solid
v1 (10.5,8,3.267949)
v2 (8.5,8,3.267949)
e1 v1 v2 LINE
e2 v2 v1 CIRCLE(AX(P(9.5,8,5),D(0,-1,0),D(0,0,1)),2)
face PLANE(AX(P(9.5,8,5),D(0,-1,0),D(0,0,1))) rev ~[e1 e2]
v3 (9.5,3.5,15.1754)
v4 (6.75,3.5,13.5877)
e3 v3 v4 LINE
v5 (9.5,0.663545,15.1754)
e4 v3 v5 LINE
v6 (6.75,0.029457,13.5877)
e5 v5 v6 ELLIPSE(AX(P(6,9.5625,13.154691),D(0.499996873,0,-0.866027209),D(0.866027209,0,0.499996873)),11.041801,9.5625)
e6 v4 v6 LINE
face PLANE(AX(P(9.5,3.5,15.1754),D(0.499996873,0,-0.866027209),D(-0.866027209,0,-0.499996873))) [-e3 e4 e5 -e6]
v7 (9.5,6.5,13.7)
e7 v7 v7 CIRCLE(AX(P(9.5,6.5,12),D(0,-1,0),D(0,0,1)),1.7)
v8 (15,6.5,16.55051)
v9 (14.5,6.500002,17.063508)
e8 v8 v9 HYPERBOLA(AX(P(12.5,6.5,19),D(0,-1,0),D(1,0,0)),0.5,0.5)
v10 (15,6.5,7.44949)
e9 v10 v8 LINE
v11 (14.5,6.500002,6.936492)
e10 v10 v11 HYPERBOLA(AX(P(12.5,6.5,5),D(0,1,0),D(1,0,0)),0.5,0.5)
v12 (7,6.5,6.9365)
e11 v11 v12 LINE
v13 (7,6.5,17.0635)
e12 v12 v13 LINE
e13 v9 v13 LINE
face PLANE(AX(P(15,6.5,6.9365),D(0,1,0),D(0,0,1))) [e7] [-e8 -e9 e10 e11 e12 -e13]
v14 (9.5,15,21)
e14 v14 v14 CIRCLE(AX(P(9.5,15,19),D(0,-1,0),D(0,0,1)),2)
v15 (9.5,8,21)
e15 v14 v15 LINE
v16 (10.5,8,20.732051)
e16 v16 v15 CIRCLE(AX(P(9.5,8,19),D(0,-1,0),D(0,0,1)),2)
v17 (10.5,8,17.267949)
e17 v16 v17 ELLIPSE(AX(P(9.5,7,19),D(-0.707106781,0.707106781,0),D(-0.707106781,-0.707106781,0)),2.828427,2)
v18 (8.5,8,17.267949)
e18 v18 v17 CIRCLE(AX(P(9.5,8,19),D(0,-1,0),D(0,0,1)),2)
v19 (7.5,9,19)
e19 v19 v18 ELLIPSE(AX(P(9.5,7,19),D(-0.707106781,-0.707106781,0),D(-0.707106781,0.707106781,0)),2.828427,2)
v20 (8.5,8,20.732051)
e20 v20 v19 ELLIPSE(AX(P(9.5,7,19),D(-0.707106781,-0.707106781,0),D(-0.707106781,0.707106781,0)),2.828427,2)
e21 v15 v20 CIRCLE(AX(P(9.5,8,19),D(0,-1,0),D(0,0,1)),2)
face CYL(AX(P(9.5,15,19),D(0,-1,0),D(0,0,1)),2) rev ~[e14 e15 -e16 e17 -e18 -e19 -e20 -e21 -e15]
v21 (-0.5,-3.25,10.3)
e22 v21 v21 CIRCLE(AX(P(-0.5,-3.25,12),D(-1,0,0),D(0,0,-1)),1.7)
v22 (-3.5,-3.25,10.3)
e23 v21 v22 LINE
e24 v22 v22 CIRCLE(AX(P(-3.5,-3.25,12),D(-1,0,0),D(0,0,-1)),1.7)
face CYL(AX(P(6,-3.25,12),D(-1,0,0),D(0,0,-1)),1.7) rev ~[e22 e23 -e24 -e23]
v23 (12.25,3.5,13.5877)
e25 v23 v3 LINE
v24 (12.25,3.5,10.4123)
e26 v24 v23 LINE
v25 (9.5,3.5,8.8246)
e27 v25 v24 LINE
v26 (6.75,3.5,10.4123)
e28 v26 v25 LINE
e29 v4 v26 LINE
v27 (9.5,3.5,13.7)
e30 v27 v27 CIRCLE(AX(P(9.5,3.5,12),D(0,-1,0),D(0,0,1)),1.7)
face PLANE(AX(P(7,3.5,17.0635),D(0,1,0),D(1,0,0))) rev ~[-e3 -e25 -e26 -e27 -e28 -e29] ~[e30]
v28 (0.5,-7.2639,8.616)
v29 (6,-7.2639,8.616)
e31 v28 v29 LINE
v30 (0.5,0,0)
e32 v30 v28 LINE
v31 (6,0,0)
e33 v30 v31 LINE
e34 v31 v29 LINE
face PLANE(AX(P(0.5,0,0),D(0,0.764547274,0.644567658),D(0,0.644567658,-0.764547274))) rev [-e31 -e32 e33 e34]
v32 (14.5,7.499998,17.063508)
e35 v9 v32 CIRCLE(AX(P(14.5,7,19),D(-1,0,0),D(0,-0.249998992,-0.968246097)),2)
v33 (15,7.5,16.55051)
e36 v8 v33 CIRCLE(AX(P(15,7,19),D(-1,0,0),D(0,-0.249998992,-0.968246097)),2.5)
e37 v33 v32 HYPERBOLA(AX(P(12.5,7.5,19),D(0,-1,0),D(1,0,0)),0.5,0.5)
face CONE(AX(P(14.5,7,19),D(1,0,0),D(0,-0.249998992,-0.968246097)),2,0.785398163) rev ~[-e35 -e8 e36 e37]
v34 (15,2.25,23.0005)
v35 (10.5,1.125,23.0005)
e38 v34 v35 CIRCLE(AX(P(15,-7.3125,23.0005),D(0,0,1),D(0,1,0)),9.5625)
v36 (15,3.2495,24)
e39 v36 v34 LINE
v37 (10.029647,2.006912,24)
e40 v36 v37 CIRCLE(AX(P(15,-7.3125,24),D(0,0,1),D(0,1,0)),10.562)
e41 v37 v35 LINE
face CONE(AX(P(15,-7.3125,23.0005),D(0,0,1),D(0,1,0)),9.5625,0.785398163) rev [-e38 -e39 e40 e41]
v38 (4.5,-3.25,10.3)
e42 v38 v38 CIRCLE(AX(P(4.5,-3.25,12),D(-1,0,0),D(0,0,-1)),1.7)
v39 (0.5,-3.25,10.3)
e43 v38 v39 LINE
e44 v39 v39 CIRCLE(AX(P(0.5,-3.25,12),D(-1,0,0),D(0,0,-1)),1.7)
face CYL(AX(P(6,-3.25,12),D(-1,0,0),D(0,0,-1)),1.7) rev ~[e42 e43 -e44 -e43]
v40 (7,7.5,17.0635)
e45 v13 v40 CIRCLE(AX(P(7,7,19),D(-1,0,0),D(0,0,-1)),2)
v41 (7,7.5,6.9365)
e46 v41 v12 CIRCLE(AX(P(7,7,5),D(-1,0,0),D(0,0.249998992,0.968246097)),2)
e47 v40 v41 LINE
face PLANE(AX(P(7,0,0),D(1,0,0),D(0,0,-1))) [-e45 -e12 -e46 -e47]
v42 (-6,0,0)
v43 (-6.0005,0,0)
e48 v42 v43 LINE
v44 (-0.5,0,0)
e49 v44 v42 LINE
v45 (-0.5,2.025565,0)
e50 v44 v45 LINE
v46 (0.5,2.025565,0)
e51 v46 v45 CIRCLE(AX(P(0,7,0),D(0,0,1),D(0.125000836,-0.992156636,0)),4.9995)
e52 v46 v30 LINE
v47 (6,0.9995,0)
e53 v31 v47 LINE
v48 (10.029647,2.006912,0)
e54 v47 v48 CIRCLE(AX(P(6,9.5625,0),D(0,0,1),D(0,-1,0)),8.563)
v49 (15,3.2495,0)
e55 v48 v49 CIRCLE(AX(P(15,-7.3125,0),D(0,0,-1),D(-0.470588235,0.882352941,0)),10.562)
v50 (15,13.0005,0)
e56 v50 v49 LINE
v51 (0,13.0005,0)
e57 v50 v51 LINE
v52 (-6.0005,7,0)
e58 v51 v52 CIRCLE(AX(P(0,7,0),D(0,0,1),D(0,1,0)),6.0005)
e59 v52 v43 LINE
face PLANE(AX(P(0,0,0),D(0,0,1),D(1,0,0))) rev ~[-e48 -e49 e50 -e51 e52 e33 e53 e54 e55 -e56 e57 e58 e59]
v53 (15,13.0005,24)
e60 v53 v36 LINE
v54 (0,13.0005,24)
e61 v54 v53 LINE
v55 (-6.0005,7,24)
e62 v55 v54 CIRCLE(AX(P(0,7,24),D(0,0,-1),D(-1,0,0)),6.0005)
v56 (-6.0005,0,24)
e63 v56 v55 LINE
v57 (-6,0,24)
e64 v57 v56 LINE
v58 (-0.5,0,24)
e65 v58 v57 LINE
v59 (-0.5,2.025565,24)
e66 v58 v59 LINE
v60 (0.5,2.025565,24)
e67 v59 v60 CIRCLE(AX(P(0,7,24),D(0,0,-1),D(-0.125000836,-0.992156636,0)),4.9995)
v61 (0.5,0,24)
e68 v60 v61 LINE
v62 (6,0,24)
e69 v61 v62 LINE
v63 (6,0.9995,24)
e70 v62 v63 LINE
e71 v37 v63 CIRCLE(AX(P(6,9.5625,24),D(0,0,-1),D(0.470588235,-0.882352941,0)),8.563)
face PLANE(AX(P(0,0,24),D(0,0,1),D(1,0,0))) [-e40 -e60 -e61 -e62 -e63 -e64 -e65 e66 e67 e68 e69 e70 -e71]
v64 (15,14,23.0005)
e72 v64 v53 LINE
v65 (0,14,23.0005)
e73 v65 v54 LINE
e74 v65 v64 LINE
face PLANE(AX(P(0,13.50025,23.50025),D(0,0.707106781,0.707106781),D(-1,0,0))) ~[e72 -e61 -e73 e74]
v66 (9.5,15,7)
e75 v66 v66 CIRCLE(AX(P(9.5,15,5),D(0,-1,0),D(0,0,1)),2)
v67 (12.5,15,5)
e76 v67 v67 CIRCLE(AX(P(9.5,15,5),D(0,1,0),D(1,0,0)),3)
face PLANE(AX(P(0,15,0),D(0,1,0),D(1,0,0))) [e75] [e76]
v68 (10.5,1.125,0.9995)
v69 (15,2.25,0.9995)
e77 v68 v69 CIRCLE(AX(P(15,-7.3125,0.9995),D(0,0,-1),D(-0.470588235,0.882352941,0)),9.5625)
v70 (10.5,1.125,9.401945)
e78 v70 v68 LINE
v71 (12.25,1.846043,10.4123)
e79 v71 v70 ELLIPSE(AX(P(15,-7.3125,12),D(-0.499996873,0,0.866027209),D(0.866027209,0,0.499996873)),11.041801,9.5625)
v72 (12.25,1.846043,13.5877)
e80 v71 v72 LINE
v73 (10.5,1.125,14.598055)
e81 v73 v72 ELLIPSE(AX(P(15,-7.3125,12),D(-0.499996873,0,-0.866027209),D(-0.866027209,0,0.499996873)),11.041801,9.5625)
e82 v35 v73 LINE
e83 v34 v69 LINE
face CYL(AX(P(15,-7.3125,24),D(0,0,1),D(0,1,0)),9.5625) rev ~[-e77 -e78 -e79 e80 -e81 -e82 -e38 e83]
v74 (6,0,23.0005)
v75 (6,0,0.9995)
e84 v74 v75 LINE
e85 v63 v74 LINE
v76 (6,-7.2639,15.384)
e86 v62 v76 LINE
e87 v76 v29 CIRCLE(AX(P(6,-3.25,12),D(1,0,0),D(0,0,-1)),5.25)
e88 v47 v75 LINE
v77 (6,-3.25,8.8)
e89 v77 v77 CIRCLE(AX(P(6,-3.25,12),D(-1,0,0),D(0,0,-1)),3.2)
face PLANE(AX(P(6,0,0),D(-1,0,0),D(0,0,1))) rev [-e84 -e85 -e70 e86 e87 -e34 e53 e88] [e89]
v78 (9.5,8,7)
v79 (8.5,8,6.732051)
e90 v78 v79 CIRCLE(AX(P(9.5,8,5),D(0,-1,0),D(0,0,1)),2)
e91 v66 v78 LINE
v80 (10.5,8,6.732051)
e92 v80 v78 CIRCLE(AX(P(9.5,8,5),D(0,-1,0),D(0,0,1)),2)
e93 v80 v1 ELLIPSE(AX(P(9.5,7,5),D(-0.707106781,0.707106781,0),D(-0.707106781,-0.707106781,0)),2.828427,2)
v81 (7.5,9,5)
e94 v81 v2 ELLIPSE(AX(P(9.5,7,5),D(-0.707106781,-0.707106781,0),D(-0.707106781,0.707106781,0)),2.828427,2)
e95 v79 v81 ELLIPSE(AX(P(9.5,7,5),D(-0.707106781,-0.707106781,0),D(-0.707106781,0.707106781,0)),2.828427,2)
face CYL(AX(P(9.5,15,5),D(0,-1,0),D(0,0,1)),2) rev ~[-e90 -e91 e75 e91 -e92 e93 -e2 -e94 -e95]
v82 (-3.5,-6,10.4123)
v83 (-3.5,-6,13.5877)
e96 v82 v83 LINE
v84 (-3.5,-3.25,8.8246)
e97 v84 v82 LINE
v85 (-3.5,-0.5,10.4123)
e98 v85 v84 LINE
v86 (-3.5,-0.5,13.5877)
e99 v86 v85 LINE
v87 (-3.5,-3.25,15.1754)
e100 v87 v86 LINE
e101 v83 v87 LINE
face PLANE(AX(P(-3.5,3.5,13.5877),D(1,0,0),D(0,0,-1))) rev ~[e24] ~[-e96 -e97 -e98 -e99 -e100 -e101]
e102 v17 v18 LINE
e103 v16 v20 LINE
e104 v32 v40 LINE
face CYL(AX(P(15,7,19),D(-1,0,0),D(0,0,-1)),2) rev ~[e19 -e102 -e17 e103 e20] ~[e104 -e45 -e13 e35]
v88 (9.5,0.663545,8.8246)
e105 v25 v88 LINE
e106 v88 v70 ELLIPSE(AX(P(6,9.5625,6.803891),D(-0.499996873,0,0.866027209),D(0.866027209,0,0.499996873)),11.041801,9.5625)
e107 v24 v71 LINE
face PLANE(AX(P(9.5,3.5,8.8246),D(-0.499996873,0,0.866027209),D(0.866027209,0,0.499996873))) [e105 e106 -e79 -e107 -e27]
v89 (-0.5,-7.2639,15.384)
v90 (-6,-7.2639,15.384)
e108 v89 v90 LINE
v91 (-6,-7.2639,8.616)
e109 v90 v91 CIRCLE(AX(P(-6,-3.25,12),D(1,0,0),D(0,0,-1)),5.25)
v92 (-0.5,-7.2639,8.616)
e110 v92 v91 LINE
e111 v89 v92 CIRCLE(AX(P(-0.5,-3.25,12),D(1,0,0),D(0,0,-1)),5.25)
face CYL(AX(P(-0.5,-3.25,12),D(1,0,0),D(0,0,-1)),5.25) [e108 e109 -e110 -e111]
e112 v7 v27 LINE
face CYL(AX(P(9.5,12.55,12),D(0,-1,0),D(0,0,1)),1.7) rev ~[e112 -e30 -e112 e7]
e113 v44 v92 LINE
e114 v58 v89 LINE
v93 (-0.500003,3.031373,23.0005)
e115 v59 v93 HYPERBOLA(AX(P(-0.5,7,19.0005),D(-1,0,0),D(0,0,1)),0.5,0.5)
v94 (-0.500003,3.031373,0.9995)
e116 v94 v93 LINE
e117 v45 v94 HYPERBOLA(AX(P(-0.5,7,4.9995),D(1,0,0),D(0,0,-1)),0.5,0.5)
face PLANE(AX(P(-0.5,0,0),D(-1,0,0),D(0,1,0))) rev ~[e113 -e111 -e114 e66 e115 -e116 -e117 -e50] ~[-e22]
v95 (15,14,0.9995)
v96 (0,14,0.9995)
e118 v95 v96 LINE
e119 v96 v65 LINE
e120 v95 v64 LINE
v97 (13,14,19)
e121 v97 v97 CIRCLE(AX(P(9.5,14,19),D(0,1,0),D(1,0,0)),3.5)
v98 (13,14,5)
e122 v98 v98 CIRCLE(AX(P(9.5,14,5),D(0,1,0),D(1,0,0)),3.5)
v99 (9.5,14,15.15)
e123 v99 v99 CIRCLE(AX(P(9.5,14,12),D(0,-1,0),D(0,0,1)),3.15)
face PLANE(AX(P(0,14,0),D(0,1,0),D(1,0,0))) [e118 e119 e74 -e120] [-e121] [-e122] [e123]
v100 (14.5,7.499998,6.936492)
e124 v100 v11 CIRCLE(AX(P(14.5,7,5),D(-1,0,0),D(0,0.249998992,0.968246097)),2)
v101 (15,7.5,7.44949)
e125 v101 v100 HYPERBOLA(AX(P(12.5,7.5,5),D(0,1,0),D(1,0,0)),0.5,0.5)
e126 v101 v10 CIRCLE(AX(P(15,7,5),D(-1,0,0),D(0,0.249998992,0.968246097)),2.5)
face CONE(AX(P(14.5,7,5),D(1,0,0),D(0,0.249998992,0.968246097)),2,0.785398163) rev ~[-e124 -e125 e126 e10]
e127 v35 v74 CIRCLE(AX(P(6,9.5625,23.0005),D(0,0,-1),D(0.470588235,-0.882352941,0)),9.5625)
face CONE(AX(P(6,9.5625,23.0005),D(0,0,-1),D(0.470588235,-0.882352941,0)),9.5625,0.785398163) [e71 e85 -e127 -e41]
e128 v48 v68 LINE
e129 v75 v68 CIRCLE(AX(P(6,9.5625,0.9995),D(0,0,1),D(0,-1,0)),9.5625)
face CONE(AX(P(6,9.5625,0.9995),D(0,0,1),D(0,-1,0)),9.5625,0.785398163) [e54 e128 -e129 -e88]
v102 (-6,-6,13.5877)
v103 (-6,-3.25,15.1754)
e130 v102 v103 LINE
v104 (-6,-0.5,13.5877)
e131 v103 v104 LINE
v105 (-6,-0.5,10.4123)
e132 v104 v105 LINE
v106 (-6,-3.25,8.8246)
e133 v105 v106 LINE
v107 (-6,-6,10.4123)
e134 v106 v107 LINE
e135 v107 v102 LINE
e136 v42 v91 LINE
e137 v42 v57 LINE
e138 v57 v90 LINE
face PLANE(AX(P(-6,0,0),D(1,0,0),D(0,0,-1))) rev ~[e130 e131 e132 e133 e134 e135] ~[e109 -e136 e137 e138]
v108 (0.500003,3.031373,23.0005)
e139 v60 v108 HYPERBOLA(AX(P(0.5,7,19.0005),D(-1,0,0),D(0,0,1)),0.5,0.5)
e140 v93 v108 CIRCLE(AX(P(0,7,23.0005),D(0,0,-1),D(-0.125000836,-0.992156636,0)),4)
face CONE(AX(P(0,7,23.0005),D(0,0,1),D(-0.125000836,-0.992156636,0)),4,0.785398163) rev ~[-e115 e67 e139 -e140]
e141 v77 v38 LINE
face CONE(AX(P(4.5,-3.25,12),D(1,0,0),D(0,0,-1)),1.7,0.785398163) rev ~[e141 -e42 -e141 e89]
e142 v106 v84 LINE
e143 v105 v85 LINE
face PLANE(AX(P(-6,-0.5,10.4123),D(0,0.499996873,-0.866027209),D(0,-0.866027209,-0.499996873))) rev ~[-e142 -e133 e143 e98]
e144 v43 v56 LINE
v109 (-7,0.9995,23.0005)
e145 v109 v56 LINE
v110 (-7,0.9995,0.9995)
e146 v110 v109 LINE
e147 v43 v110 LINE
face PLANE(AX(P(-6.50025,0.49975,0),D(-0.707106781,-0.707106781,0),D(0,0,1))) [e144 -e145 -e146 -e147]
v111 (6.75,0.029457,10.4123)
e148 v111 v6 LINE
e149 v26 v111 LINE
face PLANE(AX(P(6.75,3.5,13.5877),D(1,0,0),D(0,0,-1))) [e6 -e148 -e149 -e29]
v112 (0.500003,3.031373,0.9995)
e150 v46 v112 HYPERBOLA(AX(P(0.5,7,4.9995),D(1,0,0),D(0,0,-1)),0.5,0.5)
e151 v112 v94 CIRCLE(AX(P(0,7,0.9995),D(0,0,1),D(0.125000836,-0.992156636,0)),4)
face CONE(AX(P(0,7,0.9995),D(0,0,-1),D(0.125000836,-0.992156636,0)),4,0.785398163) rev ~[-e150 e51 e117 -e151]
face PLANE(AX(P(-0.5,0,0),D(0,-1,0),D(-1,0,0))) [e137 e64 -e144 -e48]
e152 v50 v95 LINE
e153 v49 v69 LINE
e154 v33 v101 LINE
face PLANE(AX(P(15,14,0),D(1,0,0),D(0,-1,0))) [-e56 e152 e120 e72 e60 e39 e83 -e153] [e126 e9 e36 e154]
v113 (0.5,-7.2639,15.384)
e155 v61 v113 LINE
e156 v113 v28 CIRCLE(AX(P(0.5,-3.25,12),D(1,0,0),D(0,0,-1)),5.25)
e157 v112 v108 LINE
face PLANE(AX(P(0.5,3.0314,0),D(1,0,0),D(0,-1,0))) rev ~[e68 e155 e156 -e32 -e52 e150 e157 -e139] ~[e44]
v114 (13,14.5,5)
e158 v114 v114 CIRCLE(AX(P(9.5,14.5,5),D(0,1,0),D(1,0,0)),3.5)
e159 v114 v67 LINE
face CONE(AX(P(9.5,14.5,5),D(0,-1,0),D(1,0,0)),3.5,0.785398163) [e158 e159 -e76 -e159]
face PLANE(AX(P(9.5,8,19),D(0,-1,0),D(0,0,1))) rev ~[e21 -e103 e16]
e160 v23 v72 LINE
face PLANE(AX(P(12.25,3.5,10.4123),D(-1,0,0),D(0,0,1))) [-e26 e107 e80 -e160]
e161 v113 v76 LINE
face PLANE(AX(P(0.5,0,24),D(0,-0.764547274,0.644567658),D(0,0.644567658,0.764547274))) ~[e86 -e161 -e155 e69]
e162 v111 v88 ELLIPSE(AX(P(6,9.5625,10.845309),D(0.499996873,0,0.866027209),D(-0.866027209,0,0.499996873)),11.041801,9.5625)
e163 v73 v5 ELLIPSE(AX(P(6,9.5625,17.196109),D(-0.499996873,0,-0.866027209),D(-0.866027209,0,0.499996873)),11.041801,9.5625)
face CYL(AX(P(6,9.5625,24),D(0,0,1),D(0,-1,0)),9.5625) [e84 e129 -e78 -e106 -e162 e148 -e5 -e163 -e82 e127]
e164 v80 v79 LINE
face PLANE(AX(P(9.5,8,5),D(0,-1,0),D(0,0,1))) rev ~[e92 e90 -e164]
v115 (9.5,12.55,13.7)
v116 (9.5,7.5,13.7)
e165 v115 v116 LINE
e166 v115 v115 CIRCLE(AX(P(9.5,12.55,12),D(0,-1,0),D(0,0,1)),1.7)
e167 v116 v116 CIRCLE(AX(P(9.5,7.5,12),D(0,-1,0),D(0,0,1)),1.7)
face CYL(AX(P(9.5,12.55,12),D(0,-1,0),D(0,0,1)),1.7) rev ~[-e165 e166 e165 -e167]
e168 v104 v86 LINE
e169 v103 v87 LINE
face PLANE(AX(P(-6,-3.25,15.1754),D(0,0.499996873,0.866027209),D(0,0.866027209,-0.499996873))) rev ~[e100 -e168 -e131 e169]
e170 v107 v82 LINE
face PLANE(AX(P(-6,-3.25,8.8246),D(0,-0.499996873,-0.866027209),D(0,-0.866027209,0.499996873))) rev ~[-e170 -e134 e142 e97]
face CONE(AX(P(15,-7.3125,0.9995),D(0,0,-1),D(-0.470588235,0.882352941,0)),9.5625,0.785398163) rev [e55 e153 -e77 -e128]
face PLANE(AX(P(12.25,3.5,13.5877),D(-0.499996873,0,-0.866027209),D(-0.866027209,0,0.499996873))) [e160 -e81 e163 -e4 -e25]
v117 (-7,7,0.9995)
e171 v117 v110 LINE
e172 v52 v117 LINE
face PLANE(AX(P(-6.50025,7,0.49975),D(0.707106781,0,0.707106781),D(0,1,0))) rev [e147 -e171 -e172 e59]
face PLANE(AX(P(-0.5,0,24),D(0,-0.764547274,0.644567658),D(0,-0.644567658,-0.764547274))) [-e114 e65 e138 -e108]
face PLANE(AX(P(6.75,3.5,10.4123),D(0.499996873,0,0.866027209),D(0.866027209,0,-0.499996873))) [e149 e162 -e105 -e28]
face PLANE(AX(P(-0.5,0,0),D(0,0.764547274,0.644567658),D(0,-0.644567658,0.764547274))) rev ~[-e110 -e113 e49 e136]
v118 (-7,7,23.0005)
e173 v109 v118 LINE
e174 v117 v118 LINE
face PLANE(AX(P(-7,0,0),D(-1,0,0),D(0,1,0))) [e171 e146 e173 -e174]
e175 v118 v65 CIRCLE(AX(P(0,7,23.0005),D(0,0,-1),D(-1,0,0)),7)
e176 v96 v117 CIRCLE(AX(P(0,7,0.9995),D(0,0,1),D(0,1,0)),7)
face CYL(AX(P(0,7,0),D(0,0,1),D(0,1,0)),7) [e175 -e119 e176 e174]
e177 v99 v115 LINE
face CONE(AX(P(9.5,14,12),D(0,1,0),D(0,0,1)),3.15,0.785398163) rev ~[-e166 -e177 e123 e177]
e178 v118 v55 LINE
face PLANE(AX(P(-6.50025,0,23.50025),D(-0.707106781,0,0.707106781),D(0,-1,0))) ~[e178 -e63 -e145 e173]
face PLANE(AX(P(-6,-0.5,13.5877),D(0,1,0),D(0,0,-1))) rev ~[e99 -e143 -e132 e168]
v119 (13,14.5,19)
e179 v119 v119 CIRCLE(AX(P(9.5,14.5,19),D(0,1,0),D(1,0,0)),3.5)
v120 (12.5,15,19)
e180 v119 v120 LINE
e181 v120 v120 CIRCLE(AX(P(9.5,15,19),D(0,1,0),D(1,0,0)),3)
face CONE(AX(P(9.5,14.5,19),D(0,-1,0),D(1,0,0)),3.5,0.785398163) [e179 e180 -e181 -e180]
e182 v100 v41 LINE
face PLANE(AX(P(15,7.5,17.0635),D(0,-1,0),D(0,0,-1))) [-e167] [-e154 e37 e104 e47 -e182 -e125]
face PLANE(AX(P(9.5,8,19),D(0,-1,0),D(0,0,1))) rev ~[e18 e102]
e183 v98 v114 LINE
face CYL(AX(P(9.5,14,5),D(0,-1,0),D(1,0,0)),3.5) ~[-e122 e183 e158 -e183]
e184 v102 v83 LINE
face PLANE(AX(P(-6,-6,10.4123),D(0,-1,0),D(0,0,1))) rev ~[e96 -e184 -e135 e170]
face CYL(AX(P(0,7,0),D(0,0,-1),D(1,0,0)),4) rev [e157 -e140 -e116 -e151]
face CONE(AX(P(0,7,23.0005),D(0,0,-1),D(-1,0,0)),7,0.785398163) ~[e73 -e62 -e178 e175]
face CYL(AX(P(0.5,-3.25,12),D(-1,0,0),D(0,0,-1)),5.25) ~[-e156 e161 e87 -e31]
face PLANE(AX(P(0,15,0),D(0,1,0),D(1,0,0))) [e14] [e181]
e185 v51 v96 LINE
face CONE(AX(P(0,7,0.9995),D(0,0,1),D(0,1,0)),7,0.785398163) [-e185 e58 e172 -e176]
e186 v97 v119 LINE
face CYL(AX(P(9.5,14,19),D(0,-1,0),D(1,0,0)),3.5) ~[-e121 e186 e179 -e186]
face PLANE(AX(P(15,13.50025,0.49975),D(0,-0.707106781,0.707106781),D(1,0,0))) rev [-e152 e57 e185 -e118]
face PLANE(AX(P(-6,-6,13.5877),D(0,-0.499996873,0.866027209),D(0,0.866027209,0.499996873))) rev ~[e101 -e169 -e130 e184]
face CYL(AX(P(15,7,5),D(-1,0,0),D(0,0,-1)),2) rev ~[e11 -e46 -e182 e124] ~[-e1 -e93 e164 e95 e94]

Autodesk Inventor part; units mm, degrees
ref_plane "YZ Plane" through (0, 0, 0) normal (1, 0, 0) x (0, 1, 0)
sketch "Sketch1" plane through (0, 0, 0) normal (0, 0, 1) x (1, 0, 0)
  line L0 (0, 14) -> (0, 11)
  line L1 (0, 14) -> (15, 14)
  line L2 (15, 14) -> (15, 0)
  circle A0 centre (0, 7) radius 4
  line L3 (0, 3) -> (0, 0) construction
  line L4 (0, 0) -> (15, 0)
  line L5 (0, 11) -> (0, 3) construction
  line L6 (0.5, 0) -> (-0.5, 0)
  line L7 (-0.5, 0) -> (-0.5, 3.0314)
  line L8 (-0.5, 3.0314) -> (0.5, 3.0314)
  line L9 (0.5, 3.0314) -> (0.5, 0)
  line L10 (-0.5, 0) -> (-7, 0)
  line L11 (-7, 0) -> (-7, 14)
  line L12 (-7, 14) -> (0, 14)
  line L13 (-4, 10.1012) -> (-4, 3.4286) construction
  point P0 (0, 3.0314)
  dimension "d0" = 8
  dimension "d1" = 15
  dimension "d2" = 14
  dimension "d79" = 1
  dimension "d80" = 3
  dimension "d81" = 3
extrude "Extrusion1" add sketch "Sketch1" along normal blind 24 contours L1 L2 L4 L9 A0 L0 | L0 A0 L7 L10 L11 L12
sketch "Sketch2" plane through (15, 0, 0) normal (1, 0, 0) x (0, 0, -1)
  line L0 (-24, 0) -> (-24, 14) projected
  line L1 (0, 0) -> (0, 14) projected
  point P0 (-19, 7)
  point P1 (-5, 7)
  point P2 (-24, 7)
  dimension "d5" = 5
  dimension "d6" = 5
  dimension "d7" = 14
hole "Hole1" at (15, 7, 19) at (15, 7, 5) direction (-1, 0, 0) diameter 4 depth 8
sketch "Sketch4" plane through (0, 14, 0) normal (0, 1, 0) x (1, 0, 0)
  circle A0 centre (9.5, -5) radius 3.5
  circle A1 centre (9.5, -19) radius 3.5
  line L0 (15, -24) -> (-7, -24) projected
  line L1 (15, 0) -> (0, 0) projected
  line L2 (-0.5, 0) -> (0.5, 0) projected
  line L3 (-0.5, -24) -> (0.5, -24) projected
  line L4 (4, -24) -> (4, 0) projected
  line L5 (4, -24) -> (4, 0)
  line L6 (4, -24) -> (4, 0) projected
  line L7 (15, 0) -> (15, -24) projected
  line L8 (0.5, 0) -> (0.5, -24) projected
  line L9 (-0.5, 0) -> (-0.5, -24) projected
  point P0 (4, -24)
  point P1 (0, -24)
  dimension "d18" = 7
  dimension "d19" = 7
  dimension "d20" = 14
  dimension "d21" = 5
  dimension "d22" = 5
  dimension "d42" = 5.5
  dimension "d43" = 5.5
extrude "Extrusion2" add sketch "Sketch4" along normal blind 1 contours A0 | A1
sketch "Sketch3" plane through (2, 15, 0) normal (0, 1, 0) x (1, 0, 0)
  circle A0 centre (7.5, -5) radius 3.5 projected
  circle A1 centre (7.5, -19) radius 3.5 projected
hole "Hole2" at (9.5, 15, 19) at (9.5, 15, 5) direction (0, -1, 0) diameter 4 depth 7
sketch "Sketch5" plane through (15, 0, 0) normal (1, 0, 0) x (0, 0, -1)
  line L0 (-17.0635, 7.5) -> (-6.9365, 7.5)
  line L1 (-6.9365, 7.5) -> (-6.9365, 6.5)
  line L2 (-6.9365, 6.5) -> (-17.0635, 6.5)
  line L3 (-17.0635, 6.5) -> (-17.0635, 7.5)
  circle A0 centre (-5, 7) radius 2 projected
  circle A1 centre (-19, 7) radius 2 projected
  point P0 (0, 0)
  point P1 (-6.9365, 7)
  point P2 (-17.0635, 6.5)
  dimension "d35" = 1
extrude "Extrusion3" cut sketch "Sketch5" against normal blind 8 contours L0 A0 L2 A1
sketch "Sketch7" plane through (0, 14, 0) normal (0, 1, 0) x (1, 0, 0)
  circle A0 centre (9.5, -5) radius 2 projected
  circle A1 centre (9.5, -19) radius 2 projected
  point P0 (0, 0)
  point P1 (9.5, -12)
  dimension "d44" = 7
  dimension "d45" = 7
hole "Hole3" at (9.5, 14, 12) direction (0, -1, 0) diameter 3.4 end through all countersink diameter 6.3 countersink angle 90 clearance for "Flat Head Machine Screw" size "M3" standard "Ansi Metric M Profile"
chamfer "Chamfer3" distance 0.5 angle 45 2 edges at (15, 7, 21) (15, 7, 3)
ref_plane "Work Plane1" through (7, 3.5, 17.0635) normal (0, 1, 0) x (1, 0, 0)
sketch "Sketch10" plane through (7, 3.5, 17.0635) normal (0, 1, 0) x (1, 0, 0)
  circle A0 centre (2.5, 5.0635) radius 1.7 projected
  line L0 (-0.25, 3.4758) -> (-0.25, 6.6512)
  line L1 (-0.25, 6.6512) -> (2.5, 8.2389)
  line L2 (2.5, 8.2389) -> (5.25, 6.6512)
  line L3 (5.25, 6.6512) -> (5.25, 3.4758)
  line L4 (5.25, 3.4758) -> (2.5, 1.8881)
  line L5 (2.5, 1.8881) -> (-0.25, 3.4758)
  point P0 (-7, 17.0635)
  dimension "d75" = 5.5
extrude "Extrusion6" cut sketch "Sketch10" against normal blind 10
sketch "Sketch12" plane through (-0.5, 0, 0) normal (1, 0, 0) x (0, 0, -1)
  circle A0 centre (-12, -3.25) radius 1.7
  circle A1 centre (-12, -3.25) radius 5.25
  line L0 (0, 0) -> (-8.616, -7.2639)
  line L1 (-24, 0) -> (-15.384, -7.2639)
  circle A2 centre (-12, -3.25) radius 3.25
  line L2 (0, 0) -> (-24, 0) projected
  point P0 (-12, 0)
  dimension "d82" = 3.4
  dimension "d84" = 2
  dimension "d95" = 6.5
extrude "Extrusion7" add sketch "Sketch12" against normal blind 5.5 contours A0 | A2 | A1 L2 | L1 L2 A1 | A1 L2 L0 picked at (-14.5812, -7.0055)
ref_plane "Work Plane3" through (0, 3.0314, 24) normal (1, 0, 0) x (0, 0, -1)
mirror "Mirror1" about plane through (0, 3.0314, 24) normal (1, 0, 0) of "Extrusion7"
fillet "Fillet1" radius 7 1 edges at (-7, 14, 12)
sketch "Sketch14" plane through (-6, 3.5, 13.5877) normal (1, 0, 0) x (0, 0, -1)
  arc A0 (-1.7963, -10.7639) -> (4.9717, -10.7639) centre (1.5877, -6.75) ccw projected
  line L0 (0, -9.5) -> (-1.5877, -6.75)
  line L1 (-1.5877, -6.75) -> (0, -4)
  line L2 (0, -4) -> (3.1754, -4)
  line L3 (3.1754, -4) -> (4.7631, -6.75)
  line L4 (4.7631, -6.75) -> (3.1754, -9.5)
  line L5 (3.1754, -9.5) -> (0, -9.5)
  point P0 (13.5877, -3.5)
  dimension "d96" = 5.5
extrude "Extrusion8" cut sketch "Sketch14" along normal blind 2.5
sketch "Sketch13" plane through (6, 0, 0) normal (-1, 0, 0) x (0, 0, 1)
  arc A0 (8.616, -7.2639) -> (15.384, -7.2639) centre (12, -3.25) ccw projected
  point P0 (0, 0)
hole "Hole4" at (6, -3.25, 12) direction (-1, 0, 0) diameter 3.4 end through all clearance for "Flat Head Machine Screw" size "M3" standard "Ansi Metric M Profile"
sketch "Sketch15" plane through (0, 0, 24) normal (0, 0, 1) x (1, 0, 0)
  line L0 (6, 0) -> (15, 0) projected
  line L1 (15, 0) -> (15, 14) projected
  line L2 (14.5, 9) -> (14.5, 5) projected
  line L3 (15, 4.5) -> (15, 9.5) projected
  line L4 (6, 0) -> (15, 0) projected
  arc A0 (6, 0) -> (10.5, 1.125) centre (6, 9.5625) ccw
  line L5 (15, 0) -> (15, 14) projected
  arc A1 (15, 2.25) -> (10.5, 1.125) centre (15, -7.3125) ccw
  line L6 (15, 4.5) -> (15, 9.5) projected
  line L7 (15, 4.5) -> (15, 0)
  line L8 (15, 2.25) -> (10.6581, 2.25) construction
  point P0 (0, 0)
  point P1 (14.5, 6.5)
  point P2 (14.5, 7.5)
  point P3 (15, 7.5)
  point P4 (15, 6.5)
  point P5 (15, 2.25)
extrude "Extrusion9" cut sketch "Sketch15" against normal blind 28.75
chamfer "Chamfer5" distance 1 angle 45 13 edges at (0, 11, 24) (0, 11, 0) (-4.9497, 11.9497, 0) (-7, 3.5, 0) (7.5, 14, 0) (7.5, 14, 24) (-4.9497, 11.9497, 24) (-7, 3.5, 24) (-7, 0, 12) (8.3192, 0.2855, 0) (12.6808, 1.9645, 0) (12.6808, 1.9645, 24) (8.3192, 0.2855, 24)
chamfer "Chamfer6" distance 0.5 angle 45 2 edges at (6, 15, 19) (6, 15, 5)
chamfer "Chamfer7" distance 1.5 angle 45 1 edges at (6, -3.25, 13.7)
equation "\"d81\" = d80"
equation "\"d6\" = d5"
equation "\"d22\" = d21"
equation "\"d42\" = d43"
equation "\"d44\" = d45"
properties part number "XY Joiner"
